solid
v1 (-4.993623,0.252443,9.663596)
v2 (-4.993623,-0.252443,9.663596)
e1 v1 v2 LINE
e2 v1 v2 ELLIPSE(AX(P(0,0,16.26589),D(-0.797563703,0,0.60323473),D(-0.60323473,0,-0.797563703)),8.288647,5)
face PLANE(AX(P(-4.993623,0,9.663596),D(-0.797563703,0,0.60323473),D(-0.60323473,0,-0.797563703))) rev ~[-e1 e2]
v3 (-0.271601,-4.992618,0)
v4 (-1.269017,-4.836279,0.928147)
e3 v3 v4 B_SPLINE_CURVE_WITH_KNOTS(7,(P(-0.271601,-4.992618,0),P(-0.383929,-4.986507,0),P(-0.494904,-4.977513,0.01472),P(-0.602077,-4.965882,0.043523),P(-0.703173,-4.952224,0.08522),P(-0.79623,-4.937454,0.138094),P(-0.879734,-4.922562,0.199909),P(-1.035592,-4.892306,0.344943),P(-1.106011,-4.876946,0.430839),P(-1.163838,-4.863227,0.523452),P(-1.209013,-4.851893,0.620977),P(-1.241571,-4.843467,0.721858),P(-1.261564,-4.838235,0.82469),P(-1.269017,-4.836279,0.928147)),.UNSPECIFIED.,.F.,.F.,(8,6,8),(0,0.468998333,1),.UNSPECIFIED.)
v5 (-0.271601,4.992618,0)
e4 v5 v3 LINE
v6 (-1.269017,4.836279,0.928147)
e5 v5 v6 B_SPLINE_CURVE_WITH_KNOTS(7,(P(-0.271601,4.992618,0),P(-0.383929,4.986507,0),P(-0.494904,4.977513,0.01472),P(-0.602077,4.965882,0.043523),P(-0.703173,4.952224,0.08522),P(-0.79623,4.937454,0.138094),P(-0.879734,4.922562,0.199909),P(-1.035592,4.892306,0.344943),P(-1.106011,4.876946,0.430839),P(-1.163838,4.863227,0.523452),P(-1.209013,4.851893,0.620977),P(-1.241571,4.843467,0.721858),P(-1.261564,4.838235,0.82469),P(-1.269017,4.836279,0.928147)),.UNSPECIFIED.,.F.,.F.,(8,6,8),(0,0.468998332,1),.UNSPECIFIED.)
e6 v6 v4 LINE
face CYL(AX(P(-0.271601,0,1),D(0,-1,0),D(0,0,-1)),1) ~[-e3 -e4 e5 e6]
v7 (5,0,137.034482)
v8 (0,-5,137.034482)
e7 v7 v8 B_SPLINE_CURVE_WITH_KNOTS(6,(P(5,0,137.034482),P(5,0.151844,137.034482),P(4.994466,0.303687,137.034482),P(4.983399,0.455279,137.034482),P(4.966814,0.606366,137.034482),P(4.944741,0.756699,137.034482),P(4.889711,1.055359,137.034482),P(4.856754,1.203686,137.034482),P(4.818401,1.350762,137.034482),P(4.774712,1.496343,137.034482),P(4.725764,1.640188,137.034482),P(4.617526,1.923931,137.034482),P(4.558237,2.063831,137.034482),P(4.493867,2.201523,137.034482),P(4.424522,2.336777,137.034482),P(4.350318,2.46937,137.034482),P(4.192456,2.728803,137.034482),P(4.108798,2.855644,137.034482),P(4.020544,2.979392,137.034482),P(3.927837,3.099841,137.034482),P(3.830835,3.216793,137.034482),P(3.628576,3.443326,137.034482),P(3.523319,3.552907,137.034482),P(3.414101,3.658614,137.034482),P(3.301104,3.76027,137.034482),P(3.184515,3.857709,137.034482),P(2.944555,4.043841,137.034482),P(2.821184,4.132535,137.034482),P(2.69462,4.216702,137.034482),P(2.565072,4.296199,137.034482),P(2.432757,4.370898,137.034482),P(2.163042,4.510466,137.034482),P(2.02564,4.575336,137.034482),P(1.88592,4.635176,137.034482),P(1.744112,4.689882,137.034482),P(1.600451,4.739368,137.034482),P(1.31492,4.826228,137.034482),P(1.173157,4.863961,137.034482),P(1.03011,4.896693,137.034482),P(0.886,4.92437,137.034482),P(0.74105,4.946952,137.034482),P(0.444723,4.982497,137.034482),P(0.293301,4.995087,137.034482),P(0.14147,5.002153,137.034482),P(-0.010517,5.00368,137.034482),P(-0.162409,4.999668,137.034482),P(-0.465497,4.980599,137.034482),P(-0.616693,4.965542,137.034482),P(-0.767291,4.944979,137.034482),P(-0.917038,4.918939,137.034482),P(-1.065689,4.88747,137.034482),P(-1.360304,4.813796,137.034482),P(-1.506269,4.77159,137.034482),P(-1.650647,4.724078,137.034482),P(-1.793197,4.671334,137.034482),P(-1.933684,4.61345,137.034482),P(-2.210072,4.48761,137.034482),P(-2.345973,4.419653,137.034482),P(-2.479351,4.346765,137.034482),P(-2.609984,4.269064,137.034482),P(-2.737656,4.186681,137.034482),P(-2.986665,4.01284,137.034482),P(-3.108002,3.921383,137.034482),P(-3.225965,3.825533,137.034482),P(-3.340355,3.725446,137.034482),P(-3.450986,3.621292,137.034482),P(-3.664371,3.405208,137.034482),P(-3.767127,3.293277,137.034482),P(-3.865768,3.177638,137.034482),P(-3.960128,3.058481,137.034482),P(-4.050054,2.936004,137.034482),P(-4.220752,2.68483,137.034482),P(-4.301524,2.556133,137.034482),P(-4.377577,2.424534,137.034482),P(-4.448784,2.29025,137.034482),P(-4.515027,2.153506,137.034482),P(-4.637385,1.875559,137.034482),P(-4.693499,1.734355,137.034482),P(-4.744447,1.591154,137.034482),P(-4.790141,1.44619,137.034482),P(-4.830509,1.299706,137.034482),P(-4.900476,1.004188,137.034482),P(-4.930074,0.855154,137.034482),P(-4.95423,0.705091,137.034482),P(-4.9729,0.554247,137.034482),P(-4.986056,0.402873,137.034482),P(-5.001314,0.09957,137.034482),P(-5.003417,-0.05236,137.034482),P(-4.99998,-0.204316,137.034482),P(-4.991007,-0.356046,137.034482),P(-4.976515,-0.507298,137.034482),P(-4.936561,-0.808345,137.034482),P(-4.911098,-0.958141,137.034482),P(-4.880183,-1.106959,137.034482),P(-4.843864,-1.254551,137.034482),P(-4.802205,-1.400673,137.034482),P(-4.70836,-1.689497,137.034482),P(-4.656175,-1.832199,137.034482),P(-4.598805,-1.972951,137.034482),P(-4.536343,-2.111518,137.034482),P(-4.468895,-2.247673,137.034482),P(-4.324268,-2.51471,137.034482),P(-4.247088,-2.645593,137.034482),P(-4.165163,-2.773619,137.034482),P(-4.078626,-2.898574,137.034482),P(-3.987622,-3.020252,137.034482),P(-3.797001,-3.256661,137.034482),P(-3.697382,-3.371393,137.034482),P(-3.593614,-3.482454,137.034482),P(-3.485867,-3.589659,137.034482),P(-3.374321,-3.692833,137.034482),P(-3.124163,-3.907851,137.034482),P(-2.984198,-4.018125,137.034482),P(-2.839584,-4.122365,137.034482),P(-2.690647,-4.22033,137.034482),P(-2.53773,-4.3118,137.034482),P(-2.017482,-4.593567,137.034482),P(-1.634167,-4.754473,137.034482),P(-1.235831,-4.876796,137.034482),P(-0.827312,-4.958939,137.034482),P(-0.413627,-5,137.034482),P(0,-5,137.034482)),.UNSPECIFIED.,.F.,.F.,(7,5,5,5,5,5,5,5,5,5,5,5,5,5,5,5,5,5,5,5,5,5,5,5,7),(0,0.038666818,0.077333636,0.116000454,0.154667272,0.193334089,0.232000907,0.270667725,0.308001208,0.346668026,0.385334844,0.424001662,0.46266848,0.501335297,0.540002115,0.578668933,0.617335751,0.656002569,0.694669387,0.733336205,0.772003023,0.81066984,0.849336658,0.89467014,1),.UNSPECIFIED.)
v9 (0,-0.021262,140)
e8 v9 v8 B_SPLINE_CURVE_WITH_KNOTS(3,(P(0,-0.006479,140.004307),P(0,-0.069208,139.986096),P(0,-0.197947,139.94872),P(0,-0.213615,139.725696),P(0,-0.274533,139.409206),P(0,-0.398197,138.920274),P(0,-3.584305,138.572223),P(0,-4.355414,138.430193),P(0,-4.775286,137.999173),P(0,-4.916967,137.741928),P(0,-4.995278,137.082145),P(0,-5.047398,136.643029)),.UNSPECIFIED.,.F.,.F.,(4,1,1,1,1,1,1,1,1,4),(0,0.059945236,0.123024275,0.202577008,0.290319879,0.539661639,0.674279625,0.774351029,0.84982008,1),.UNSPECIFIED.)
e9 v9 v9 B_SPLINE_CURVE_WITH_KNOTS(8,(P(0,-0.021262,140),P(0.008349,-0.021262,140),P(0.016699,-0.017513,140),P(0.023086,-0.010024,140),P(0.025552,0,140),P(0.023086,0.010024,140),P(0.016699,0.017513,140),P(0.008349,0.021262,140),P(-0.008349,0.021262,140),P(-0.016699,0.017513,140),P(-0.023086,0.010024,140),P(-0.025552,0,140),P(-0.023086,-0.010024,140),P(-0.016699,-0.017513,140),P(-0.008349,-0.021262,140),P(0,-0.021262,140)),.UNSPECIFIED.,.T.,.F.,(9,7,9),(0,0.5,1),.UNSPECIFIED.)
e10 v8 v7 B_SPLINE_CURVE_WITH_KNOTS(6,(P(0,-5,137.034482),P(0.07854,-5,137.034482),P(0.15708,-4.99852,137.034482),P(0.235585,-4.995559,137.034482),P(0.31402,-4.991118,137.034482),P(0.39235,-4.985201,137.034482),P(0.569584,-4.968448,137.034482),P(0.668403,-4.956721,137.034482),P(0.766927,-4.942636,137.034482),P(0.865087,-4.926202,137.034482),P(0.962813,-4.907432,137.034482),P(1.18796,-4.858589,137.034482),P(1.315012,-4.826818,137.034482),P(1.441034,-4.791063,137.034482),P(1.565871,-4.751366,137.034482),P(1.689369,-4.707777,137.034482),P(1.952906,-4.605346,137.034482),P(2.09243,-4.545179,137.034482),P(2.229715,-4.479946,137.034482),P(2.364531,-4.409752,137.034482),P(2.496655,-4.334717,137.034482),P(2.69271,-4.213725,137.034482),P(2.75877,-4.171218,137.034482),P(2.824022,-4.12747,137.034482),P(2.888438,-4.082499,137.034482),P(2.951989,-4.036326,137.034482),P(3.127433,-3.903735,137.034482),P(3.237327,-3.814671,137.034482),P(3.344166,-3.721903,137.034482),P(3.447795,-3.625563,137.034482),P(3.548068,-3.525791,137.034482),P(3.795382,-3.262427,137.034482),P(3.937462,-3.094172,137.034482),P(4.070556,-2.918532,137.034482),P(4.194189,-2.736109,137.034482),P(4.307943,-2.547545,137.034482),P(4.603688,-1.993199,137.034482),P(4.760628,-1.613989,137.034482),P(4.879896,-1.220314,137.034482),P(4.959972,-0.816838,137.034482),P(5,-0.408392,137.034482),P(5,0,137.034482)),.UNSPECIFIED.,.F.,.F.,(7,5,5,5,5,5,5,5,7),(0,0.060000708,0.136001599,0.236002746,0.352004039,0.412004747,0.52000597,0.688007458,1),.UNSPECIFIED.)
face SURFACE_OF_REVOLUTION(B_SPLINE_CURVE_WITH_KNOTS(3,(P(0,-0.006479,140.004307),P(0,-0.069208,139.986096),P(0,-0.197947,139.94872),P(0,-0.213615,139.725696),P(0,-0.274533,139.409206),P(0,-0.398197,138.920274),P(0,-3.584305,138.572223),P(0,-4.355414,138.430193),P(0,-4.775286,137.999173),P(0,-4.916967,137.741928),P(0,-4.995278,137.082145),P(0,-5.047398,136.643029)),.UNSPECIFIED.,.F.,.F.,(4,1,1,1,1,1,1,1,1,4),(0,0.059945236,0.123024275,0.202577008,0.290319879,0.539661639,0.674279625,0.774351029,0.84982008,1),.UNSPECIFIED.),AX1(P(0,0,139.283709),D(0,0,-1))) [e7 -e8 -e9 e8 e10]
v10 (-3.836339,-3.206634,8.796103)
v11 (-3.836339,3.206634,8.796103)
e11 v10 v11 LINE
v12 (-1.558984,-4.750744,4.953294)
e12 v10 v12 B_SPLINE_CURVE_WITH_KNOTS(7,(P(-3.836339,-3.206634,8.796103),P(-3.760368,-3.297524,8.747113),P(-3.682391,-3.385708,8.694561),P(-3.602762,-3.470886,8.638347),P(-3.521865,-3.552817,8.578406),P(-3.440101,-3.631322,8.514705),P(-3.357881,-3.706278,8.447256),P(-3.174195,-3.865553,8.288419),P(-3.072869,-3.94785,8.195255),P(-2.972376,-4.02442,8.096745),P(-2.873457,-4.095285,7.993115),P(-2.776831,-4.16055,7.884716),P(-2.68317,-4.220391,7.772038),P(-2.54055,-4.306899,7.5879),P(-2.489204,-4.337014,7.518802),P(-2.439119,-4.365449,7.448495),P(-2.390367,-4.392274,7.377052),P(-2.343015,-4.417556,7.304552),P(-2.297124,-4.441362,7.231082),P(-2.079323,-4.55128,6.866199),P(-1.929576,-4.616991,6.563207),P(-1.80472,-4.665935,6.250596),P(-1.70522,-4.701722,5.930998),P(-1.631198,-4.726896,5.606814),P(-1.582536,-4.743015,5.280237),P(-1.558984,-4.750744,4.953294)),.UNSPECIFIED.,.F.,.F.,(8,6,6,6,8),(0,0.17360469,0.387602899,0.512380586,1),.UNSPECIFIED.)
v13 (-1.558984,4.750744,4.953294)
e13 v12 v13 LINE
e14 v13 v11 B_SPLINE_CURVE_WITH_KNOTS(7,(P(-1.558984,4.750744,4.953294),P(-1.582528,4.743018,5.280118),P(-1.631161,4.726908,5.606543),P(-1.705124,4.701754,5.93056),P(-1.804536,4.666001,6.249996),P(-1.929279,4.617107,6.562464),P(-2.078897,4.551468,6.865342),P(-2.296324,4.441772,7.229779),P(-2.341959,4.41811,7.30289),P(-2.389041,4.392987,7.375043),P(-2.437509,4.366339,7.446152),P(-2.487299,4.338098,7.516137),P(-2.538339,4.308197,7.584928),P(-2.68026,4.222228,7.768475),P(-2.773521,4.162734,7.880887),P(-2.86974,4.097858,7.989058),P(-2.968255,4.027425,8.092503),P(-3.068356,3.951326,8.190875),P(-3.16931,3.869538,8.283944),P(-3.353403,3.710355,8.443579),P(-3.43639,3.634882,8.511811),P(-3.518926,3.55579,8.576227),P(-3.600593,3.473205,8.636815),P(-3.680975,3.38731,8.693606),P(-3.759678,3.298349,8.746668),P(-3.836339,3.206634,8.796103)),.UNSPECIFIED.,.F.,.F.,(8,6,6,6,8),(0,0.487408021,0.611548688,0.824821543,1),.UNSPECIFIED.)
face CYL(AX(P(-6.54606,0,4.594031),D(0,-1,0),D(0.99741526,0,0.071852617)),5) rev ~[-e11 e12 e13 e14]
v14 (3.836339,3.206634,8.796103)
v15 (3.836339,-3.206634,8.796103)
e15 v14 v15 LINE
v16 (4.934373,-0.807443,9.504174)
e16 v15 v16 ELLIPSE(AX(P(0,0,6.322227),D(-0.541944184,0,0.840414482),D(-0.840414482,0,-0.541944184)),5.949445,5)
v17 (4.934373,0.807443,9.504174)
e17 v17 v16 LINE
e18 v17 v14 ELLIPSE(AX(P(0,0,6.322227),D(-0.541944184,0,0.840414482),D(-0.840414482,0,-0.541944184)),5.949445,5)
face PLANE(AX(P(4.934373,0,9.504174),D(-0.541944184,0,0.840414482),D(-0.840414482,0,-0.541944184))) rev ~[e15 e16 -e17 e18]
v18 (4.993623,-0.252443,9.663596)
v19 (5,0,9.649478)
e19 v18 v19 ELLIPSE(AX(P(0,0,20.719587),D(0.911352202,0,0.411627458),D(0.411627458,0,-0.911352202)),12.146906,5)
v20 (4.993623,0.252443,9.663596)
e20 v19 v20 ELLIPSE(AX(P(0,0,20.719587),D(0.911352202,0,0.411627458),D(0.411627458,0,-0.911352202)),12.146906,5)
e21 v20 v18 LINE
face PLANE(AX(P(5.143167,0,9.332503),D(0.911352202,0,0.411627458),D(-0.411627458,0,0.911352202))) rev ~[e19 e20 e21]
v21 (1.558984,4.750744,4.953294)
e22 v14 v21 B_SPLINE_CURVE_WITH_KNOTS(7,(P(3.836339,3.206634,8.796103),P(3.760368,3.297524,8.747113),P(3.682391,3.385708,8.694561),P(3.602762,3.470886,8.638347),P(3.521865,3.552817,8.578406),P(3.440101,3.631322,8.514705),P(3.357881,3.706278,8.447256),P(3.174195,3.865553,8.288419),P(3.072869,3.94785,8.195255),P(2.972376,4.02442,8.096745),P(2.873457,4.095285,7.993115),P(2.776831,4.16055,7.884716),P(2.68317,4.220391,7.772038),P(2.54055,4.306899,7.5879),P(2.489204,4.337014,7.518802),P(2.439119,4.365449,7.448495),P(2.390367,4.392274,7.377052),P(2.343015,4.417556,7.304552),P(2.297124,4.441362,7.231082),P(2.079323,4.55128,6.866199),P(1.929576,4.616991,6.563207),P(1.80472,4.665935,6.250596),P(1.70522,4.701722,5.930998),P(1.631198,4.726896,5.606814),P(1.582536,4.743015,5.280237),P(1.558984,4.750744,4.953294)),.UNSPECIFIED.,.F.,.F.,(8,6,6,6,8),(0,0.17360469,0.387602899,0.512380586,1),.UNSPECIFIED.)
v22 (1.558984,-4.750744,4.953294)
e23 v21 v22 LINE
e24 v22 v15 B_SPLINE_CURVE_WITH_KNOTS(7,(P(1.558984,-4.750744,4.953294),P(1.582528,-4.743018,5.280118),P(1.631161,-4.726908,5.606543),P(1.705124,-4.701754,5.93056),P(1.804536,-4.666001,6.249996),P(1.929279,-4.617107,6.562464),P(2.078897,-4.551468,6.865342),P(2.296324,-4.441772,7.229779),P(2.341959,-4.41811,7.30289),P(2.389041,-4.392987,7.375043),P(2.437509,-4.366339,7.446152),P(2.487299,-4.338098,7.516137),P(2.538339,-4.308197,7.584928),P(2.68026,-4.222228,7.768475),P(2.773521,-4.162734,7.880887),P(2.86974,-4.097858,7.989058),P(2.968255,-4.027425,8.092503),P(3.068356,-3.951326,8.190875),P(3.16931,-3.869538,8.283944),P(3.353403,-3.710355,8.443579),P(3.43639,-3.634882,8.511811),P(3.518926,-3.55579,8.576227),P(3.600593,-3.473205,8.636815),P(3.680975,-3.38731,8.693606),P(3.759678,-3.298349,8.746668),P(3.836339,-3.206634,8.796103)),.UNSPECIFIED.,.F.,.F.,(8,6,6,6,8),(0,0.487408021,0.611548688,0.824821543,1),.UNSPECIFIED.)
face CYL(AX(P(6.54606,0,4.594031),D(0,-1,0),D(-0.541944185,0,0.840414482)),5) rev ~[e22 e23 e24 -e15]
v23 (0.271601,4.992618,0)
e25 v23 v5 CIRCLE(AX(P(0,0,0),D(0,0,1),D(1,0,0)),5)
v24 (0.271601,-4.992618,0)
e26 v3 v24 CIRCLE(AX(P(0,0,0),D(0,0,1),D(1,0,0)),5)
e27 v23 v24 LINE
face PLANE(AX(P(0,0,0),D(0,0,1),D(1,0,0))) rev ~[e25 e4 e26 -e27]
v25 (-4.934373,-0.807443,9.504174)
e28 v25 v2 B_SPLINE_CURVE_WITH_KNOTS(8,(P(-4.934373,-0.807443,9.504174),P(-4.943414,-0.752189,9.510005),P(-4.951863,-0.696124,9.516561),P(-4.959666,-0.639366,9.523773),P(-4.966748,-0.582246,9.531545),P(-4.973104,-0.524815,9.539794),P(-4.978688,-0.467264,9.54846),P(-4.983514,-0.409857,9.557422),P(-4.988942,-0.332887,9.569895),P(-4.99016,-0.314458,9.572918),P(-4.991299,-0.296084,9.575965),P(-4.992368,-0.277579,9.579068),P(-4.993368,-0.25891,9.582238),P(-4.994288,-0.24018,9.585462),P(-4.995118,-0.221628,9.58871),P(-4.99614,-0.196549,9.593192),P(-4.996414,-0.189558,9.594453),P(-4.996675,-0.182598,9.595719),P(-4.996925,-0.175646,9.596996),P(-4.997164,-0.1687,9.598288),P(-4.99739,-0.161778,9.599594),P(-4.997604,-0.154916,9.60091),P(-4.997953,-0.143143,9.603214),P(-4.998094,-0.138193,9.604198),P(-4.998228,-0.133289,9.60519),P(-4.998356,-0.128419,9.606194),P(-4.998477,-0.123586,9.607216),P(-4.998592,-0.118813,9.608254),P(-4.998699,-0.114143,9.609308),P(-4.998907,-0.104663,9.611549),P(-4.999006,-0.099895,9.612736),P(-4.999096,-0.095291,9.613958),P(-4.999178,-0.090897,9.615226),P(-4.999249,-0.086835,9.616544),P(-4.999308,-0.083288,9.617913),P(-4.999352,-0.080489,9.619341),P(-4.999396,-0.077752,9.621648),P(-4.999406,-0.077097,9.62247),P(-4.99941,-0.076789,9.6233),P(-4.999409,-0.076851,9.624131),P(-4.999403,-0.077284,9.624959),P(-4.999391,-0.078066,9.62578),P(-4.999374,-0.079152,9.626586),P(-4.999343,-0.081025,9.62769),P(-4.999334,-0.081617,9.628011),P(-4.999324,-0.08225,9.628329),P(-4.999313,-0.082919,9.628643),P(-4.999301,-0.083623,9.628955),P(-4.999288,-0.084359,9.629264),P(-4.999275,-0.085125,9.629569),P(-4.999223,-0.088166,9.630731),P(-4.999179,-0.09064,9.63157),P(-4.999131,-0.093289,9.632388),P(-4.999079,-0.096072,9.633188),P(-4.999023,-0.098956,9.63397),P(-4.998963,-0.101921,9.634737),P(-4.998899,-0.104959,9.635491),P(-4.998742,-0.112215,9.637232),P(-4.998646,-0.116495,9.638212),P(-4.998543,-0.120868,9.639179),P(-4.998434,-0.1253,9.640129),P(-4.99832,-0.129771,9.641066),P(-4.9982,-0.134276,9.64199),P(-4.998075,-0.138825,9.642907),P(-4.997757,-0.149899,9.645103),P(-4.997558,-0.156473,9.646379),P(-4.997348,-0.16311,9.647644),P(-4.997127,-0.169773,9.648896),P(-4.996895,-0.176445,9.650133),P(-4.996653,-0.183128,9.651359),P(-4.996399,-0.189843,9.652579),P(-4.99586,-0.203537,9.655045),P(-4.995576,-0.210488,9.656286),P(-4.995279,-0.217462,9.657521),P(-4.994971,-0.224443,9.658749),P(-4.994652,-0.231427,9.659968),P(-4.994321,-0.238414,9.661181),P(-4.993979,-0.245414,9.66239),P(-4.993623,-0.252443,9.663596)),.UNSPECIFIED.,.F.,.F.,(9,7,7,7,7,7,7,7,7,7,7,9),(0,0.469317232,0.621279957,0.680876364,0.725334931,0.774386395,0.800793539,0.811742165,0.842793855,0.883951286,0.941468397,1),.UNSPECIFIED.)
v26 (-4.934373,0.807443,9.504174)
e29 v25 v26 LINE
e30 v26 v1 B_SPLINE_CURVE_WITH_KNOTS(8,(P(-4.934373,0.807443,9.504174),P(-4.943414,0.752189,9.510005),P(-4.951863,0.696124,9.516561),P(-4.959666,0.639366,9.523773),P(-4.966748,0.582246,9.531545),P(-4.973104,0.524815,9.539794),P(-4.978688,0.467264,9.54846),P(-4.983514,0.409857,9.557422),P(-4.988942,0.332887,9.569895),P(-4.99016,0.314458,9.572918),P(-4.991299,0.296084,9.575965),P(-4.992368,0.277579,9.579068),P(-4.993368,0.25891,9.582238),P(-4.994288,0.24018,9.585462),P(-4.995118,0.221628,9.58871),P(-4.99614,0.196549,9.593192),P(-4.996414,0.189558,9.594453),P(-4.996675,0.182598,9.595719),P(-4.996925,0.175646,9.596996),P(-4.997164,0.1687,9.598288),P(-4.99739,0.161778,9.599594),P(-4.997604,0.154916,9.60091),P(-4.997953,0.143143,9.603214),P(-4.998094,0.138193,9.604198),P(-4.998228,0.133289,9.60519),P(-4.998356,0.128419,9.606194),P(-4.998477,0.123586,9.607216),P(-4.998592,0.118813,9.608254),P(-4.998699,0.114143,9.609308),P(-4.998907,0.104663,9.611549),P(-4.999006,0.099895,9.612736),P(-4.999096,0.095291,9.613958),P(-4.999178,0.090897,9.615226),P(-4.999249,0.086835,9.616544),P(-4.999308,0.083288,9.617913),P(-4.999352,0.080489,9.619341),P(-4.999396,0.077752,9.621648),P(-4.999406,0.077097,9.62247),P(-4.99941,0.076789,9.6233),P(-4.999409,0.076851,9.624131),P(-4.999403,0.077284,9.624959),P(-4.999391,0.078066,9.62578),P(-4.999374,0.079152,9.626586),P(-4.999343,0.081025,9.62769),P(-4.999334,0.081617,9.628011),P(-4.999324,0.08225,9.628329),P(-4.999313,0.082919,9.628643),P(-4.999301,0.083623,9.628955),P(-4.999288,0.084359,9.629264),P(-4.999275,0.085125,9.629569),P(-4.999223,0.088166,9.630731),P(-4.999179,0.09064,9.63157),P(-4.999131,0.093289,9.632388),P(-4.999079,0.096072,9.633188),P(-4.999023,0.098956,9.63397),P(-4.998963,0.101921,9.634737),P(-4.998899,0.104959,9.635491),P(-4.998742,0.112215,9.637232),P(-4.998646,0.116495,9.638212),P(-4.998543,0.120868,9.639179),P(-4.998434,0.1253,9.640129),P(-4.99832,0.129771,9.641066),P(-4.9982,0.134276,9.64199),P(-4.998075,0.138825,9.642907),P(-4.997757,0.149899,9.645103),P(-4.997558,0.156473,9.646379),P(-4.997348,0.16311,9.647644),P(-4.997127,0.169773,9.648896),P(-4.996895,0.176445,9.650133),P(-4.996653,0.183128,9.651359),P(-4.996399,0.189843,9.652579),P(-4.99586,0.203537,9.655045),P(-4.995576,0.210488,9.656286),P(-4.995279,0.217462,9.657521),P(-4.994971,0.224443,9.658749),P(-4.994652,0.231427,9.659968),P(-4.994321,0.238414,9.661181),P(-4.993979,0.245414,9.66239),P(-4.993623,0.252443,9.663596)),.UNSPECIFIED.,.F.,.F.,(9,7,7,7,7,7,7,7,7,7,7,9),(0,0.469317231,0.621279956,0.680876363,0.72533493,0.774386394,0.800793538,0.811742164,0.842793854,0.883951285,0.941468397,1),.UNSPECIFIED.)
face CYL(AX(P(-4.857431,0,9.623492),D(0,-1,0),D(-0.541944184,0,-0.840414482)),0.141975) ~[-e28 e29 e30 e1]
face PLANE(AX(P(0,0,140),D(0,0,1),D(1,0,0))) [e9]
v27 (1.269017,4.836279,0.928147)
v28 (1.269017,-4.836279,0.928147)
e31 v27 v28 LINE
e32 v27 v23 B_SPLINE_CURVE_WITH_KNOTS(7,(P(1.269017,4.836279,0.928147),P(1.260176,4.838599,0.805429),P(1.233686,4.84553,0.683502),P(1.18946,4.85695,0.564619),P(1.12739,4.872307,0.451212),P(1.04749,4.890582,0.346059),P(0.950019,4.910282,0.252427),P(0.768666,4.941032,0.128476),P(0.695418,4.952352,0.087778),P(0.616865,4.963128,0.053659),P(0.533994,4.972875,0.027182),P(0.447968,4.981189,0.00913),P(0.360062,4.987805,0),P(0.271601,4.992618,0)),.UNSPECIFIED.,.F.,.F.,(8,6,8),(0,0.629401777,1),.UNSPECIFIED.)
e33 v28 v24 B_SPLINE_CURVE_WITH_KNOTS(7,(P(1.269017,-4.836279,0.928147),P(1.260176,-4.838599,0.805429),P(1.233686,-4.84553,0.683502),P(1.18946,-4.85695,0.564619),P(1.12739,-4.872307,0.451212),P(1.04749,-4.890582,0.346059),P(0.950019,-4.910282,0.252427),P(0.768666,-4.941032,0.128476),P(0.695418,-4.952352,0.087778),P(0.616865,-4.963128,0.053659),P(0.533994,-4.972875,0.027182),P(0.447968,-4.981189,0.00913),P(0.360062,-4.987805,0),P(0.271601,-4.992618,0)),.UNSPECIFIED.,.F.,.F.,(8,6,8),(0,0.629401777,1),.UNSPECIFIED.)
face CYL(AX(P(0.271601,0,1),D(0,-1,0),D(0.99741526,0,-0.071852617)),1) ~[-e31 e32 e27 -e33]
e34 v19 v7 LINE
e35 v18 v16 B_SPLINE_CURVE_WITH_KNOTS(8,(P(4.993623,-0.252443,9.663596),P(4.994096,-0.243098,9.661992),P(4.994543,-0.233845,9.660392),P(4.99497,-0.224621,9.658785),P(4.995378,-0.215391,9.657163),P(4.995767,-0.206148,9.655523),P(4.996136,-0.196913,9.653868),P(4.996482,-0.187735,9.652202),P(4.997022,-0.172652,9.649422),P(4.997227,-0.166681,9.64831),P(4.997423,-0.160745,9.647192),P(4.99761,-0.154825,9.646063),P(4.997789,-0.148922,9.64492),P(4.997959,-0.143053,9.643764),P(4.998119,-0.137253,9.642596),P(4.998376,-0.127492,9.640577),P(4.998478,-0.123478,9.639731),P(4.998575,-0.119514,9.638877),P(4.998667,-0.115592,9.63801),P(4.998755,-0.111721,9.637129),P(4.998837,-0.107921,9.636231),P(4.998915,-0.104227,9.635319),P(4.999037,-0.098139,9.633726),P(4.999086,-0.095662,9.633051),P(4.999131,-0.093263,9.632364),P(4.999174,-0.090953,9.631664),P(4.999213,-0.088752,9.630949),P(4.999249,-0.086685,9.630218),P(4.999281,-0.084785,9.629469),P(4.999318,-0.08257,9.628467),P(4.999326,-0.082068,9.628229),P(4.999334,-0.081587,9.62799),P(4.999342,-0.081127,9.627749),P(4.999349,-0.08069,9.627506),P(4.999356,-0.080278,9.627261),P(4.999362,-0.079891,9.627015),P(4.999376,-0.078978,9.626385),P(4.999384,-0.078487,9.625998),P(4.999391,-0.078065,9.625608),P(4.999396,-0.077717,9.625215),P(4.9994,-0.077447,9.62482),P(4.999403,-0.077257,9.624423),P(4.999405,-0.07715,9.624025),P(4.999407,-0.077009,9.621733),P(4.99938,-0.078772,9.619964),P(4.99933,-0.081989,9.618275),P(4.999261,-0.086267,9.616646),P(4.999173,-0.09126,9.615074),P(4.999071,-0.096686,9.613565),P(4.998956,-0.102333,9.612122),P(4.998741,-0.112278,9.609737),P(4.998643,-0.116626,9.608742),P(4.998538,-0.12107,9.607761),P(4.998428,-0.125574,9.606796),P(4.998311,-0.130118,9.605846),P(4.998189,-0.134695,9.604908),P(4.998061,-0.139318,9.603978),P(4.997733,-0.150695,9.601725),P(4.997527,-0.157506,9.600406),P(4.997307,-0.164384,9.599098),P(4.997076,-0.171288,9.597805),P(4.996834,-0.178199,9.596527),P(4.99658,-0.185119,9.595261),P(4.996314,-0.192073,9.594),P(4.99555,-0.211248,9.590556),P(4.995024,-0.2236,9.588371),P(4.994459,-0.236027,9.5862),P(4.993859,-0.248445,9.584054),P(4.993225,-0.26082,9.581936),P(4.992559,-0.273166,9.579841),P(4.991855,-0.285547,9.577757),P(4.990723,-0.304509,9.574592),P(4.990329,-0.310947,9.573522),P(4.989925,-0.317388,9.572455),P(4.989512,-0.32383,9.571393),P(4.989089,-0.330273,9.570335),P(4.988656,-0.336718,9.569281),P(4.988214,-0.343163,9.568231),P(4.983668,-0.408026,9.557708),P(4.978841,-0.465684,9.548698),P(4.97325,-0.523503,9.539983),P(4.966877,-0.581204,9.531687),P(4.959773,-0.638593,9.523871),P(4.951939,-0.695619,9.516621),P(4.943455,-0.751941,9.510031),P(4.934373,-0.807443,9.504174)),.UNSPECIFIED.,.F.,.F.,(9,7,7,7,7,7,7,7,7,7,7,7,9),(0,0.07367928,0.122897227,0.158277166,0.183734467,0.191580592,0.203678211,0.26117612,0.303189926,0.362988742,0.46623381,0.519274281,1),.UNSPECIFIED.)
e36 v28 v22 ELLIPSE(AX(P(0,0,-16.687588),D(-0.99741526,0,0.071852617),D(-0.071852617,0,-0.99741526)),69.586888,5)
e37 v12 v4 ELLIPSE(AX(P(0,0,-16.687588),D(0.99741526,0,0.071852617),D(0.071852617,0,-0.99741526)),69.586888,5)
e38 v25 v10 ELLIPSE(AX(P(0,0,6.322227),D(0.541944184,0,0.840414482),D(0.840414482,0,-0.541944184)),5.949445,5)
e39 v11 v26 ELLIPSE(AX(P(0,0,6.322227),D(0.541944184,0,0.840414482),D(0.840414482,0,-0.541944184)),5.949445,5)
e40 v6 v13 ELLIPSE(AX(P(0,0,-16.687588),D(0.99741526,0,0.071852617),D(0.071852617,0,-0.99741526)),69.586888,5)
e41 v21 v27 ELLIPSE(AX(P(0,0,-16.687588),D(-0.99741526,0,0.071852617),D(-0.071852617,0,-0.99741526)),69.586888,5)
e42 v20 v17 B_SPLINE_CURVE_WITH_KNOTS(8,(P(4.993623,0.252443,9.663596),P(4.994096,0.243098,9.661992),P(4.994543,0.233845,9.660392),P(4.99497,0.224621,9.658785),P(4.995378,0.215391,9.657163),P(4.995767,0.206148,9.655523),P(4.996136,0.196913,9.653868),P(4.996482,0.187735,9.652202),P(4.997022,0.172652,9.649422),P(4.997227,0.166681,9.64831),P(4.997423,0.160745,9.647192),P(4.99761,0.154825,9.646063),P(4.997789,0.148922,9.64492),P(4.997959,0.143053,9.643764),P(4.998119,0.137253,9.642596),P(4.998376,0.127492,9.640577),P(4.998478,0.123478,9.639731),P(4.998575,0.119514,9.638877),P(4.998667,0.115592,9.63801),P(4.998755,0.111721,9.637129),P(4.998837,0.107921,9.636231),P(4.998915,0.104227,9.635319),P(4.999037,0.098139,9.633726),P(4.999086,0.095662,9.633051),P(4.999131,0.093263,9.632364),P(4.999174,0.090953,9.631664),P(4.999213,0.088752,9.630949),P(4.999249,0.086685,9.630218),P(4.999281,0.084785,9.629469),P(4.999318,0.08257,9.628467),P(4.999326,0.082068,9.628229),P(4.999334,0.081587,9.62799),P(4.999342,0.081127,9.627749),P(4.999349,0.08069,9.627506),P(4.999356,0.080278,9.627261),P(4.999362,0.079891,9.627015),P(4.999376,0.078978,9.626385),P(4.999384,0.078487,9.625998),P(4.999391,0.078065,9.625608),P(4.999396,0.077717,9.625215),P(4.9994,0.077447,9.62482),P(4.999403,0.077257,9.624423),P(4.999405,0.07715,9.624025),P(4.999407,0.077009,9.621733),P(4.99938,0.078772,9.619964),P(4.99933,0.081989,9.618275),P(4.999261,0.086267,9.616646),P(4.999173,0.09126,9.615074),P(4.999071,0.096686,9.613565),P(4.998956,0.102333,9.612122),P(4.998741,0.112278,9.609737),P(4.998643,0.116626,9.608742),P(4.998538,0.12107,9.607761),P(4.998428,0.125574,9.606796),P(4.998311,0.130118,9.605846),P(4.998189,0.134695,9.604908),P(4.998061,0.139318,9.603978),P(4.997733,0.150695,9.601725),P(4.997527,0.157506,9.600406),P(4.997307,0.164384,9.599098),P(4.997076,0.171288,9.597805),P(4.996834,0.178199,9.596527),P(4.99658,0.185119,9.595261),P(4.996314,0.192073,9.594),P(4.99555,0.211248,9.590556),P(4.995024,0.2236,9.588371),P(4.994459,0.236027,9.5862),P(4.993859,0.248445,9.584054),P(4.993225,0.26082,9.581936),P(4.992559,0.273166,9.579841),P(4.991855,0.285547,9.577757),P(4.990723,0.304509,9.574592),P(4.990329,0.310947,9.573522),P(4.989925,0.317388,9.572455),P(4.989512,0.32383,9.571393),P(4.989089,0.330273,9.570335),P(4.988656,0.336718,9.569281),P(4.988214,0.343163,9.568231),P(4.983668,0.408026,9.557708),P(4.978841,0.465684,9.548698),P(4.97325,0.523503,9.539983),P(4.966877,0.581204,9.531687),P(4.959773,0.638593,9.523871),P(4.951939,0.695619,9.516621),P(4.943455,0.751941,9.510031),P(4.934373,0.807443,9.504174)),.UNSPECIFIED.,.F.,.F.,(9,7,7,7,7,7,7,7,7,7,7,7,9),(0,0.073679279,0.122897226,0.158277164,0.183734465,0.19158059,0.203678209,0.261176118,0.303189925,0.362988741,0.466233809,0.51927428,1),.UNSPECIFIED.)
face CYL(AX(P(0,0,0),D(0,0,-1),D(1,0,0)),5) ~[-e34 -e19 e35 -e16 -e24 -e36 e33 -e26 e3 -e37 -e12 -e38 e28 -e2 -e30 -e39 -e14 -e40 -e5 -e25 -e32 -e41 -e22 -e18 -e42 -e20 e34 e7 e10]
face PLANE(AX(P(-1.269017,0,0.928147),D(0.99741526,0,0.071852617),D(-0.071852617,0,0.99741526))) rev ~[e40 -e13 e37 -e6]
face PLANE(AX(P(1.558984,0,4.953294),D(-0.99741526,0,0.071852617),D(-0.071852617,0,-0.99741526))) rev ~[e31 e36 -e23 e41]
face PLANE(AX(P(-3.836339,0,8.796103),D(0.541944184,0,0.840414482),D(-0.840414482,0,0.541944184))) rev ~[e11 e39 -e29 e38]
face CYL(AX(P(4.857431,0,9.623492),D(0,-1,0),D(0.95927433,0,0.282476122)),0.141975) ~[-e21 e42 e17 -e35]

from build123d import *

# Parameters (mm, degrees)
F0_R     = 5
F1_DEPTH = 140
F3_DEPTH = 11.55


with BuildPart() as f1:
    # F0 (on Top) → F1 (new body)
    with BuildSketch(Plane.XY):
        Circle(F0_R)
    extrude(amount=F1_DEPTH)

    # F2 (on Front) → F3 (cut, symmetric)
    with BuildSketch(Plane.XZ):
        with BuildLine():
            ThreePointArc((-4.9343728731, 9.5041744104), (-4.9905112474, 9.5740316018), (-4.9936231851, 9.6635964393))
            Line((-4.9936231851, 9.6635964393), (-5.6447708048, 8.8026849553))
            Line((-5.6447708048, 8.8026849553), (-7.4423355982, 9.3325031921))
            Line((-7.4423355982, 9.3325031921), (-10.4406764731, 4.5940310123))
            Line((-10.4406764731, 4.5940310123), (-9.1289039701, -1.7381435225))
            Line((-9.1289039701, -1.7381435225), (0, -1.7381435225))
            Line((0, -1.7381435225), (8.475315288, -1.7381435225))
            Line((8.475315288, -1.7381435225), (6.0502169654, 5.5752913468))
            Line((6.0502169654, 5.5752913468), (5.1431669854, 9.3325031921))
            Line((5.1431669854, 9.3325031921), (4.9936231851, 9.6635964393))
            ThreePointArc((4.9936231851, 9.6635964393), (4.9905112474, 9.5740316018), (4.9343728731, 9.5041744104))
            Line((4.9343728731, 9.5041744104), (3.8363389221, 8.7961034203))
            ThreePointArc((3.8363389221, 8.7961034203), (2.2446684706, 7.1431548318), (1.5589835431, 4.9532940959))
            Line((1.5589835431, 4.9532940959), (1.2690167304, 0.9281473833))
            ThreePointArc((1.2690167304, 0.9281473833), (0.9528310141, 0.2679301206), (0.2716014701, 0))
            Line((0.2716014701, 0), (0, 0))
            Line((0, 0), (-0.2716014701, 0))
            ThreePointArc((-0.2716014701, 0), (-0.9528310141, 0.2679301206), (-1.2690167304, 0.9281473833))
            Line((-1.2690167304, 0.9281473833), (-1.5589835431, 4.9532940959))
            ThreePointArc((-1.5589835431, 4.9532940959), (-2.2446684706, 7.1431548318), (-3.8363389221, 8.7961034203))
            Line((-3.8363389221, 8.7961034203), (-4.9343728731, 9.5041744104))
        make_face()
    extrude(amount=F3_DEPTH, both=True, mode=Mode.SUBTRACT)

    # F4 (on Right) → F5 (revolve, cut)
    with BuildSketch(Plane.YZ):
        with BuildLine():
            Line((-0.0064786935, 140.206694603), (-5.0473981754, 140.206694603))
            Line((-5.0473981754, 140.206694603), (-5.0473981754, 136.6430294396))
            add(Edge.make_bspline(
                [(-0.0064786935, 140.0043070316), (-0.0692082586, 139.9860955088), (-0.1979467492, 139.9487204058), (-0.2136150513, 139.7256958309), (-0.2745325567, 139.409206263), (-0.3981966452, 138.9202736287), (-3.584305469, 138.5722227649), (-4.3554143689, 138.43019256), (-4.7752856256, 137.9991725277), (-4.916967026, 137.7419277902), (-4.9952783408, 137.0821454066), (-5.0473981754, 136.6430294396)],
                knots=[0, 0, 0, 0, 0.0599452364, 0.1230242745, 0.2025770079, 0.2903198787, 0.5396616387, 0.6742796245, 0.7743510294, 0.8498200795, 1, 1, 1, 1], degree=3))
            Line((-0.0064786935, 140.0043070316), (-0.0064786935, 140.206694603))
        make_face()
    revolve(axis=Axis((0, 0, 139.283709228), (0, 0, -1)), mode=Mode.SUBTRACT)


solid = f1.part
